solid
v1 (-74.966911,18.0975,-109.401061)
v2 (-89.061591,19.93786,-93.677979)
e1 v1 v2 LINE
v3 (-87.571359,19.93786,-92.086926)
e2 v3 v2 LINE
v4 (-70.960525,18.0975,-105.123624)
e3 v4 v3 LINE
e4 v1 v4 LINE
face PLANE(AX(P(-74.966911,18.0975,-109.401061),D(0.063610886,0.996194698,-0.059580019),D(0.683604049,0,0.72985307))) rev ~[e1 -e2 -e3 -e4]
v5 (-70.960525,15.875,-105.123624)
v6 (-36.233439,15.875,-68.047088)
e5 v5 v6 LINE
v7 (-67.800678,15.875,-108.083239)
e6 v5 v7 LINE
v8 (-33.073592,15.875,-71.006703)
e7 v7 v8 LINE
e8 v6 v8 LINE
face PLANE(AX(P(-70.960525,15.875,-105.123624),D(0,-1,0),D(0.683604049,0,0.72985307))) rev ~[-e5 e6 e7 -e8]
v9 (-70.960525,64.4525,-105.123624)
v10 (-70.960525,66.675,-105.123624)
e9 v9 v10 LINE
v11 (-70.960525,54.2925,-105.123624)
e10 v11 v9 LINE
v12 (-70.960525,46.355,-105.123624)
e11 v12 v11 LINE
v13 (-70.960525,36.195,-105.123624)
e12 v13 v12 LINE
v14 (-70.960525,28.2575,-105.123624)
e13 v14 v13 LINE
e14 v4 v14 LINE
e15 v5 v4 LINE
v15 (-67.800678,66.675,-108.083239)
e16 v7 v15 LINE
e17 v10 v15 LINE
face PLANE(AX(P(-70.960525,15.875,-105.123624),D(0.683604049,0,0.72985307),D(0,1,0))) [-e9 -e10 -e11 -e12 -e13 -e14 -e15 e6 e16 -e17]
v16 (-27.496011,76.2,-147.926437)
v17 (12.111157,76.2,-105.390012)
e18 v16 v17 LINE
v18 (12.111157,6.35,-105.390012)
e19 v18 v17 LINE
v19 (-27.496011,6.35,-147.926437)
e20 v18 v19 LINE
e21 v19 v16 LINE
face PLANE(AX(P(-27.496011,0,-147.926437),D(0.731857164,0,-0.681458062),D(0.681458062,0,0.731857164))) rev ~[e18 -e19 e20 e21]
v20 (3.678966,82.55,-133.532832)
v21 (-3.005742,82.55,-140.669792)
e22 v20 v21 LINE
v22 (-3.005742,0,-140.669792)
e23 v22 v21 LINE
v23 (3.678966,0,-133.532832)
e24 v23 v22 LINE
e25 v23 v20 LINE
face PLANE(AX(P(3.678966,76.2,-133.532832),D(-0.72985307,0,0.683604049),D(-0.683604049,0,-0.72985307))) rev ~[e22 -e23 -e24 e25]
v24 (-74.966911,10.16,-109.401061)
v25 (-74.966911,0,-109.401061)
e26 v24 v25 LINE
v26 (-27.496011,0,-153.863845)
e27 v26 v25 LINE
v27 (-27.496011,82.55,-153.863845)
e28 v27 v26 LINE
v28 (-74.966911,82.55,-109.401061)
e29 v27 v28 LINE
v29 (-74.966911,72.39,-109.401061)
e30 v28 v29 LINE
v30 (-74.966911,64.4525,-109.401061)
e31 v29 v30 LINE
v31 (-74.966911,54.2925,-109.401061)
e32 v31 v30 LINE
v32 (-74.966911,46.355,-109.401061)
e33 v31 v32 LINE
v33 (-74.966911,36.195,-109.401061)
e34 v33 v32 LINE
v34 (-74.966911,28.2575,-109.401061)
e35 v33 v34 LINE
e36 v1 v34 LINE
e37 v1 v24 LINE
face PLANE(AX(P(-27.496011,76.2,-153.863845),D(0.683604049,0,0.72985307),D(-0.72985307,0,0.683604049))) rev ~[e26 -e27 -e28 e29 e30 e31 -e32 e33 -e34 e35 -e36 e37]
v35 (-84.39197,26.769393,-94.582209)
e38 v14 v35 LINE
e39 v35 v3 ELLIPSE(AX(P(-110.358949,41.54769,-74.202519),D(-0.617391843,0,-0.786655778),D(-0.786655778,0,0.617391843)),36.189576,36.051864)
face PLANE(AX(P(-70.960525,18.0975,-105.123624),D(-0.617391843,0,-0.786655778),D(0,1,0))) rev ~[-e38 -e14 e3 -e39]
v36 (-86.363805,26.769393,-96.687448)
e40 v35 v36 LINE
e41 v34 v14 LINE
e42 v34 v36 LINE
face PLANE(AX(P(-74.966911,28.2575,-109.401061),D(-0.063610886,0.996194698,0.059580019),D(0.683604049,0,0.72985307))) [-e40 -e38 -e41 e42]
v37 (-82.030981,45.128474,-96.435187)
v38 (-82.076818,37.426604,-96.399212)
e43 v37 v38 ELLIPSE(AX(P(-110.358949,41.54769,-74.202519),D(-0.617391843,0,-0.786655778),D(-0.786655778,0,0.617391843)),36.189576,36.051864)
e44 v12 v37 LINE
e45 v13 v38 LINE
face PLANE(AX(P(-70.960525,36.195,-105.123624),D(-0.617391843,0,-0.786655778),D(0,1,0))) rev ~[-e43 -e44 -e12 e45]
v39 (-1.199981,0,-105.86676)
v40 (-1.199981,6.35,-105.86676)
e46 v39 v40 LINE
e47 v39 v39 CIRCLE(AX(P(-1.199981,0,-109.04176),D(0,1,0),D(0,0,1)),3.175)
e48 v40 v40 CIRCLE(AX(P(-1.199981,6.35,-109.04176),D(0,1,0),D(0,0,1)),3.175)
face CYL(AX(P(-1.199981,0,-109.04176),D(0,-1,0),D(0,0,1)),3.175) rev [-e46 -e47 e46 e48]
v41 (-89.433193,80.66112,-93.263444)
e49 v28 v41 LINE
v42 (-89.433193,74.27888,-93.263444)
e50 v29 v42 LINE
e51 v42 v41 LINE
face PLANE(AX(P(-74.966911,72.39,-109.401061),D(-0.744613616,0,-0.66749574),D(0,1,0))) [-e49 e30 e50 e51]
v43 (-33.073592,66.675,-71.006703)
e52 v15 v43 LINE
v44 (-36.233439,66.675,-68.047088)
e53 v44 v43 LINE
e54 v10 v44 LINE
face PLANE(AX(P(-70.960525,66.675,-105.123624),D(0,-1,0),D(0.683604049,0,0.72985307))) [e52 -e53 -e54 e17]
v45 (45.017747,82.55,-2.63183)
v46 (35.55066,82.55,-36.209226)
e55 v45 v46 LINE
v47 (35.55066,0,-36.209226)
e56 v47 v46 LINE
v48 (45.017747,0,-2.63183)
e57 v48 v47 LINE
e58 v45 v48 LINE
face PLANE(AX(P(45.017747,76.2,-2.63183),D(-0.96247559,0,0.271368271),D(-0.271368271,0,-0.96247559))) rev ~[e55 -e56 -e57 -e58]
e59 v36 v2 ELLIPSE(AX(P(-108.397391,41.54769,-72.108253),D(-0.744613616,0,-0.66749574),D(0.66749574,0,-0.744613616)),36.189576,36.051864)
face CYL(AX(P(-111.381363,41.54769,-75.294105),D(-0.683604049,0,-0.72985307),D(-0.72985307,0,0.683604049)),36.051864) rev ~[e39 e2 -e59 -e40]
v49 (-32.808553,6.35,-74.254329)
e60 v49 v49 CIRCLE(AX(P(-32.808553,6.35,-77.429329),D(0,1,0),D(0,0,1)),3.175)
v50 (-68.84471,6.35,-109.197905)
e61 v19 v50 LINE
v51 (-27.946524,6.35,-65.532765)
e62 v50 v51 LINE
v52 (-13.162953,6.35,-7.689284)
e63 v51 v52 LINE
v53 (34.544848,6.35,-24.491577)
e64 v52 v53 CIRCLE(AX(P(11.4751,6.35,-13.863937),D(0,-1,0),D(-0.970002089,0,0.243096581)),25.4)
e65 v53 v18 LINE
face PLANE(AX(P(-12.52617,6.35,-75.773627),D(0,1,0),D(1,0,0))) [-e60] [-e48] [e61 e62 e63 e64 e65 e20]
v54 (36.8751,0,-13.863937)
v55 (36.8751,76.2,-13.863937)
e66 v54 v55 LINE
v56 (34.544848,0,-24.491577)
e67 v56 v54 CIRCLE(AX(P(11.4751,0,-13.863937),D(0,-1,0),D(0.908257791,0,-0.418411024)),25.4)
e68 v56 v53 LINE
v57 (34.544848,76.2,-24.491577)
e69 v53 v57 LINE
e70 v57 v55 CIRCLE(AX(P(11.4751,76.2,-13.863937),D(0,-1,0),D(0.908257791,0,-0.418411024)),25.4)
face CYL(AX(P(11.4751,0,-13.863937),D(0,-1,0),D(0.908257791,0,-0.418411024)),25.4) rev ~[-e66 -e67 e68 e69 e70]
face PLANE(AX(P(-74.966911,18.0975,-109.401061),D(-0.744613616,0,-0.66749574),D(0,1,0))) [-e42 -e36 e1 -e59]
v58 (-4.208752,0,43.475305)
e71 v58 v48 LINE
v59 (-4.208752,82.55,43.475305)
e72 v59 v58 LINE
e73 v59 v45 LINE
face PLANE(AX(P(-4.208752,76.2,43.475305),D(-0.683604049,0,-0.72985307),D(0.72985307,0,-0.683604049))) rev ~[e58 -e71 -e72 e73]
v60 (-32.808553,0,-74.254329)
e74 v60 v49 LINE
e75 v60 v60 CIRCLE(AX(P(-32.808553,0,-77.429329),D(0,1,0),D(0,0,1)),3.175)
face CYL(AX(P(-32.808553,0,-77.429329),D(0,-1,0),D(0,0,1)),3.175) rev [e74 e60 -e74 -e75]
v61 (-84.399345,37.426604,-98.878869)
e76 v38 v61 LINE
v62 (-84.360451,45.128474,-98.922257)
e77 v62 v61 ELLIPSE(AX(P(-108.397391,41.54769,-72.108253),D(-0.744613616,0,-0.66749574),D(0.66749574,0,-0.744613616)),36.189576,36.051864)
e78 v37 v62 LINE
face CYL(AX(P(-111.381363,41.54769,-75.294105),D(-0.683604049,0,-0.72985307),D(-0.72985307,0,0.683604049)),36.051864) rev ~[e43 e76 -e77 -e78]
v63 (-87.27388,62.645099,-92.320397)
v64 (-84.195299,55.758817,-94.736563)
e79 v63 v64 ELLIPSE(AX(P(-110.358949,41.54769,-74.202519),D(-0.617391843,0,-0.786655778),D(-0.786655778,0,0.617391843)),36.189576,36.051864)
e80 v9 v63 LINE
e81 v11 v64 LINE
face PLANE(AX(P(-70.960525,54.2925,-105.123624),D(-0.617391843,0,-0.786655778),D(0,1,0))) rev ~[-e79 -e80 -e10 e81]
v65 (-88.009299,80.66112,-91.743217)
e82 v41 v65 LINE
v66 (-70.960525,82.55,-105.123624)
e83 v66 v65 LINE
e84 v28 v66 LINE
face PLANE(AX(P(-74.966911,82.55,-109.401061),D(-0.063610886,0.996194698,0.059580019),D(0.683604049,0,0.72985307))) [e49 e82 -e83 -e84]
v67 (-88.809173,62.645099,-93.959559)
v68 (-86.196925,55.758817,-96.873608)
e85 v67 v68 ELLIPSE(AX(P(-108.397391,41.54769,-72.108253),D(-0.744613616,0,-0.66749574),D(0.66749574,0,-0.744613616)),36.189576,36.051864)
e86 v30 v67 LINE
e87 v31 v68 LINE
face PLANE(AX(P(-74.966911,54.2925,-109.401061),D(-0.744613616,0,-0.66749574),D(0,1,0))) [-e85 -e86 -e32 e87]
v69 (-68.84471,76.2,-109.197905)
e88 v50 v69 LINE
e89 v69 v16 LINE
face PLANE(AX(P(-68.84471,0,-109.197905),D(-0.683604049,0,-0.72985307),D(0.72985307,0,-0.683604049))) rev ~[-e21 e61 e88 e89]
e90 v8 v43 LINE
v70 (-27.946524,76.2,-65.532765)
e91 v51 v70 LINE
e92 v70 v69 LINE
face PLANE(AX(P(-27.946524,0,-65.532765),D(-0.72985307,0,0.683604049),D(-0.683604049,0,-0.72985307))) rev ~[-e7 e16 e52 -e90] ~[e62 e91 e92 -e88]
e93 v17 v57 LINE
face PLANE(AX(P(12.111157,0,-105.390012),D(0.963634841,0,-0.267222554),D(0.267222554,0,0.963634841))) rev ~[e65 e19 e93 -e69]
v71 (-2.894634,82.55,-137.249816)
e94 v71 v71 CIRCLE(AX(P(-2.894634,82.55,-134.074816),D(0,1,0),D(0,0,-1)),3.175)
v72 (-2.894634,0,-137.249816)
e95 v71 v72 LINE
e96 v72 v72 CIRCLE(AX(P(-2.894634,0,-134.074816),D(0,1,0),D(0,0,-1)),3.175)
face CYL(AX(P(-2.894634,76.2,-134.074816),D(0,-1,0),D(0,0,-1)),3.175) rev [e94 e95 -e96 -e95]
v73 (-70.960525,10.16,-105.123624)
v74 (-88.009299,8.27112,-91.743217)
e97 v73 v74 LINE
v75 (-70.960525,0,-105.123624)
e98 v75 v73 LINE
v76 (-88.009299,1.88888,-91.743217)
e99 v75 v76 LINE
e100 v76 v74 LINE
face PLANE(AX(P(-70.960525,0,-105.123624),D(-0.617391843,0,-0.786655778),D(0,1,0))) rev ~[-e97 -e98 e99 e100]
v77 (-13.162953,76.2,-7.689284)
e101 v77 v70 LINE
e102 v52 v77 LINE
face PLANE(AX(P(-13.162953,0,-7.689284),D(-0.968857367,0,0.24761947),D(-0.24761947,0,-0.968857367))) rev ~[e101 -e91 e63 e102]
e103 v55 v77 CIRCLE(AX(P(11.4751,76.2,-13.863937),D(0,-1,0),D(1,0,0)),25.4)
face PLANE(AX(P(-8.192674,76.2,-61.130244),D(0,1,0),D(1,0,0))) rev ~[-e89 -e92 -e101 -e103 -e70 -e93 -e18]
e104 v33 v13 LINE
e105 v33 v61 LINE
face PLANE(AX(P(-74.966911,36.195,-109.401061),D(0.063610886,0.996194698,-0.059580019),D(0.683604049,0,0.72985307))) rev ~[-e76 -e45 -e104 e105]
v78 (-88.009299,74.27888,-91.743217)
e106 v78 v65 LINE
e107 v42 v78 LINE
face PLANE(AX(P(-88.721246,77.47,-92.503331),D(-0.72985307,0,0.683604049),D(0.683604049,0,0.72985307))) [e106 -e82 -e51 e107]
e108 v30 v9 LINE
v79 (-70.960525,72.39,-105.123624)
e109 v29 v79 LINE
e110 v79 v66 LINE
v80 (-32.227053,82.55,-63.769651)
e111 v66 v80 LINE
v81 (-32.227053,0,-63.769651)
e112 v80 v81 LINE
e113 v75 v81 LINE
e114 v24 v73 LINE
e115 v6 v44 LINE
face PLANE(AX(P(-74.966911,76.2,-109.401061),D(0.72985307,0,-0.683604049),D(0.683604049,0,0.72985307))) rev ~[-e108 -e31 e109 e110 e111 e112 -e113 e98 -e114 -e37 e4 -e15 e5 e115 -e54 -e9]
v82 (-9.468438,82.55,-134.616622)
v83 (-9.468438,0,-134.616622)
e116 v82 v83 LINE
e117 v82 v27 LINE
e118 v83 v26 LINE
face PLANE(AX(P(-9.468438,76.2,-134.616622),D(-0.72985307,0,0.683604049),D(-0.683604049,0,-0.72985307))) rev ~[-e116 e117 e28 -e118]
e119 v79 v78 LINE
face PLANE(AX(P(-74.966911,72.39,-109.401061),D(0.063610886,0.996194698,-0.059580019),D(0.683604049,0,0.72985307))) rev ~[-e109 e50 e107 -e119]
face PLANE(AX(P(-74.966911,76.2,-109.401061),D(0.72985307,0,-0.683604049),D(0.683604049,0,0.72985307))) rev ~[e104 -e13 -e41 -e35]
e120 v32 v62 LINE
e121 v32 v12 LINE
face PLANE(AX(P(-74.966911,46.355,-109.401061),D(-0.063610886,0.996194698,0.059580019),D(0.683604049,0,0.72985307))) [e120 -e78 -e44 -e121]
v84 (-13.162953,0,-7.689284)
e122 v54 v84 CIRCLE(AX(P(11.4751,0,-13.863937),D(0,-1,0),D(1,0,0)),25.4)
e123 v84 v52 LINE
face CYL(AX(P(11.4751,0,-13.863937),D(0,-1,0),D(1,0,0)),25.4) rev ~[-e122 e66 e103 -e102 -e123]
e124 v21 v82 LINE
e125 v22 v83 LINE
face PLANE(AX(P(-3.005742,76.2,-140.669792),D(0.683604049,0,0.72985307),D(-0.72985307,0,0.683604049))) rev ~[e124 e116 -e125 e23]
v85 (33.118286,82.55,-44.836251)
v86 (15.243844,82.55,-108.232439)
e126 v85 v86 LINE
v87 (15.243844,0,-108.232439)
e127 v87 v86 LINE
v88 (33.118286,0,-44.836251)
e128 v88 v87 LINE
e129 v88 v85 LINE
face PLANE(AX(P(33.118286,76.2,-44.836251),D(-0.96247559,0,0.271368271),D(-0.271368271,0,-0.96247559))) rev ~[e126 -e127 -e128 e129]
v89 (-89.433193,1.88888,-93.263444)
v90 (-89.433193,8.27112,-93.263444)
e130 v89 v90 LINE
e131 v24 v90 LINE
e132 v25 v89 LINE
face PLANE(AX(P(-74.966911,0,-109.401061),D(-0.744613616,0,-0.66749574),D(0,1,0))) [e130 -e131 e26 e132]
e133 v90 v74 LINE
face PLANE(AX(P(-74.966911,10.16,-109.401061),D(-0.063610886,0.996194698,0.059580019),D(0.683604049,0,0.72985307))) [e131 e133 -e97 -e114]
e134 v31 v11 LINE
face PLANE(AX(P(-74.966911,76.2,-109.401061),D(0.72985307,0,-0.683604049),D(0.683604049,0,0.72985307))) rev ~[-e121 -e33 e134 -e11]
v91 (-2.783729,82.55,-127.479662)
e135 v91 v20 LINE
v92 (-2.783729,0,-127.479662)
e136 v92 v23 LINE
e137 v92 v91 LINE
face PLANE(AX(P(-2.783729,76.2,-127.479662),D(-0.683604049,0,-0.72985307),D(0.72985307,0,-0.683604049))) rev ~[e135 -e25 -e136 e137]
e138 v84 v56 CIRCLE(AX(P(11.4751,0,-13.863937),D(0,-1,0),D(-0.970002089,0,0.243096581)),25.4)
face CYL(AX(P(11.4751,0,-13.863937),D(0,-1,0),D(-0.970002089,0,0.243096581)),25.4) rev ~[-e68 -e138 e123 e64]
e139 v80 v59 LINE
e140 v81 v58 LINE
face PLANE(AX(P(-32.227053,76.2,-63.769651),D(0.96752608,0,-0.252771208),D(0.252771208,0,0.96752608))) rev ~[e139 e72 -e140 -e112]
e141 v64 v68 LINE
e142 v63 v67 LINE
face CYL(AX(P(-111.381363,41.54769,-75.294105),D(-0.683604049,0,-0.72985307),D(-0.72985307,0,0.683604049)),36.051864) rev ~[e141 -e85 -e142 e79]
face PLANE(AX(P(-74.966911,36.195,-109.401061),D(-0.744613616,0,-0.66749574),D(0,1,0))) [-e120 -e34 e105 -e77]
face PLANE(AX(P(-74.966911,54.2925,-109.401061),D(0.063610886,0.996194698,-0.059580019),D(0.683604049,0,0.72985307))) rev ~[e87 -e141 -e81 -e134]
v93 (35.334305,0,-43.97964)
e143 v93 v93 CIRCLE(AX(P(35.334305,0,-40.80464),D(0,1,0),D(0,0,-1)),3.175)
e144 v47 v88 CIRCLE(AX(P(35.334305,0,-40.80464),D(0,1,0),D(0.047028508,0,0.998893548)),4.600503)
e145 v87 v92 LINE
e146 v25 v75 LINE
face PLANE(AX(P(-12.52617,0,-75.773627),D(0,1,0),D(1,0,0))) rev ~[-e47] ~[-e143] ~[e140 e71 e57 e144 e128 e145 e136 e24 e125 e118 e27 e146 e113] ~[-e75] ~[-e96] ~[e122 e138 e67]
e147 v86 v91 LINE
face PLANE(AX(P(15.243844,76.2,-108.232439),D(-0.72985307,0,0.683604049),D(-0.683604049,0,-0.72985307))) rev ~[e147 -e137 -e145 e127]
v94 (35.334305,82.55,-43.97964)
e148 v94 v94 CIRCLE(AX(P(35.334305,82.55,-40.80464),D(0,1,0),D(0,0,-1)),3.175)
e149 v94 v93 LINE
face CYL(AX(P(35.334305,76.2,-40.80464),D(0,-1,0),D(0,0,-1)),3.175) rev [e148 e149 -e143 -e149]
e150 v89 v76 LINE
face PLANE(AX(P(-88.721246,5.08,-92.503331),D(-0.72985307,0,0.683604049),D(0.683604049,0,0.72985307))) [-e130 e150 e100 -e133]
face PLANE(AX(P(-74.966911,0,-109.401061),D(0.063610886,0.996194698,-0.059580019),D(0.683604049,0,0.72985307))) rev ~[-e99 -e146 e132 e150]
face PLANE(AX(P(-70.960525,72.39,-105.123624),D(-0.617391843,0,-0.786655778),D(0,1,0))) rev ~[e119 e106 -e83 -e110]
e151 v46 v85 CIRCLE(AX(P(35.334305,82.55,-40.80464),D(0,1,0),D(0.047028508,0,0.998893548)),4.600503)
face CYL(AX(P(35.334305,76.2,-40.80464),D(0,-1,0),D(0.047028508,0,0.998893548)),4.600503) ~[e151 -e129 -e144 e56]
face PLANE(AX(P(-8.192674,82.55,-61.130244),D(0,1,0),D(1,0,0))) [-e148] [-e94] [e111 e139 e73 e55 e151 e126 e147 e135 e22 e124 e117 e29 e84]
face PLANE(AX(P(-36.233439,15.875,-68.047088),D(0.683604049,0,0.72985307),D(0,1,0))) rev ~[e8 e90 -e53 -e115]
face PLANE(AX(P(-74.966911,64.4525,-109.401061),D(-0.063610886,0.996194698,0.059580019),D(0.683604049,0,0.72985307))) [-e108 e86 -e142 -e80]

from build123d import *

# Parameters (mm, degrees)
SKETCH1_R                     = 3.175
BOSS_EXTRUDE2_DEPTH           = 76.2
SKETCH1_5_R                   = 3.175
BOSS_EXTRUDE3_DEPTH           = 6.35
SKETCH5_R                     = 3.175
BOSS_EXTRUDE4_DEPTH           = 6.35
SKETCH6_W                     = 50.8
SKETCH6_H                     = 50.8
CUT_EXTRUDE1_DEPTH            = 21.59
SKETCH7_W                     = 5.86068256
SKETCH7_H                     = 10.16
BOSS_EXTRUDE5_DEPTH           = 21.59
BOSS_EXTRUDE5_DRAFT           = 5
BOSS_EXTRUDE5_PROFILE_2_DEPTH = 21.59
BOSS_EXTRUDE5_PROFILE_2_DRAFT = 5
BOSS_EXTRUDE5_PROFILE_3_DEPTH = 21.59
BOSS_EXTRUDE5_PROFILE_3_DRAFT = 5
BOSS_EXTRUDE5_PROFILE_4_DEPTH = 21.59
BOSS_EXTRUDE5_PROFILE_4_DRAFT = 5
BOSS_EXTRUDE5_PROFILE_5_DEPTH = 21.59
BOSS_EXTRUDE5_PROFILE_5_DRAFT = 5
SKETCH10_R                    = 36.051864109
CUT_EXTRUDE2_DEPTH            = 21.59


with BuildPart() as part:
    # Sketch1 → Boss-Extrude2 (new body)
    with BuildSketch(Plane(origin=(0, 0, 0), x_dir=(1, 0, 0), z_dir=(0, 1, 0))):
        with BuildLine():
            Line((-4.208751998, -43.475305064), (45.017746951, 2.631829887))
            Line((45.017746951, 2.631829887), (35.550660053, 36.209226482))
            ThreePointArc((35.550660053, 36.209226482), (39.762177432, 42.05307025), (33.11828595, 44.83625091))
            Line((33.11828595, 44.83625091), (15.243844224, 108.232438689))
            Line((15.243844224, 108.232438689), (-2.783728935, 127.479661752))
            Line((-2.783728935, 127.479661752), (3.678966496, 133.532831827))
            Line((3.678966496, 133.532831827), (-3.005742225, 140.669792455))
            Line((-3.005742225, 140.669792455), (-9.468437655, 134.61662238))
            Line((-9.468437655, 134.61662238), (-27.496010814, 153.863845442))
            Line((-27.496010814, 153.863845442), (-74.966911398, 109.401060841))
            Line((-74.966911398, 109.401060841), (-32.227053049, 63.769650553))
            Line((-32.227053049, 63.769650553), (-4.208751998, -43.475305064))
        make_face()
        with Locations((35.334305242, 40.804639607)):
            Circle(SKETCH1_R, mode=Mode.SUBTRACT)
        with BuildLine():
            Line((-27.946524097, 65.532765046), (-68.844709626, 109.197904706))
            Line((-68.844709626, 109.197904706), (-27.496010814, 147.926436632))
            Line((-27.496010814, 147.926436632), (12.111157264, 105.390011693))
            Line((12.111157264, 105.390011693), (34.544848217, 24.491577435))
            ThreePointArc((34.544848217, 24.491577435), (36.285698832, 19.303992732), (36.875100326, 13.863937421))
            ThreePointArc((36.875100326, 13.863937421), (14.585843996, -11.34485616), (-13.162952731, 7.689284266))
            Line((-13.162952731, 7.689284266), (-27.946524097, 65.532765046))
        make_face(mode=Mode.SUBTRACT)
        with Locations((-2.894634056, 134.074815557)):
            Circle(SKETCH1_R, mode=Mode.SUBTRACT)
    extrude(amount=BOSS_EXTRUDE2_DEPTH)

    # Sketch1<5> → Boss-Extrude3 (add)
    with BuildSketch(Plane(origin=(0, 0, 0), x_dir=(1, 0, 0), z_dir=(0, 1, 0))):
        with BuildLine():
            Line((-27.496010814, 147.926436632), (-68.844709626, 109.197904706))
            Line((-68.844709626, 109.197904706), (-27.946524097, 65.532765046))
            Line((-27.946524097, 65.532765046), (-13.162952731, 7.689284266))
            ThreePointArc((-13.162952731, 7.689284266), (3.03743719, 37.821521623), (34.544848217, 24.491577435))
            Line((34.544848217, 24.491577435), (12.111157264, 105.390011693))
            Line((12.111157264, 105.390011693), (-27.496010814, 147.926436632))
        make_face()
        with Locations((-32.808552916, 77.429328599)):
            Circle(SKETCH1_5_R, mode=Mode.SUBTRACT)
        with Locations((-1.199981142, 109.041759799)):
            Circle(SKETCH1_5_R, mode=Mode.SUBTRACT)
    extrude(amount=BOSS_EXTRUDE3_DEPTH)

    # Sketch5 → Boss-Extrude4 (add)
    with BuildSketch(Plane(origin=(0, 76.2, 0), x_dir=(1, 0, 0), z_dir=(0, 1, 0))):
        with BuildLine():
            Line((45.017746951, 2.631829887), (35.550660053, 36.209226482))
            ThreePointArc((35.550660053, 36.209226482), (39.762177432, 42.05307025), (33.11828595, 44.83625091))
            Line((33.11828595, 44.83625091), (15.243844224, 108.232438689))
            Line((15.243844224, 108.232438689), (-2.783728935, 127.479661752))
            Line((-2.783728935, 127.479661752), (3.678966496, 133.532831827))
            Line((3.678966496, 133.532831827), (-3.005742225, 140.669792455))
            Line((-3.005742225, 140.669792455), (-9.468437655, 134.61662238))
            Line((-9.468437655, 134.61662238), (-27.496010814, 153.863845442))
            Line((-27.496010814, 153.863845442), (-74.966911398, 109.401060841))
            Line((-74.966911398, 109.401060841), (-32.227053049, 63.769650553))
            Line((-32.227053049, 63.769650553), (-4.208751998, -43.475305064))
            Line((-4.208751998, -43.475305064), (45.017746951, 2.631829887))
        make_face()
        with Locations((-2.894634056, 134.074815557)):
            Circle(SKETCH5_R, mode=Mode.SUBTRACT)
        with Locations((35.334305242, 40.804639607)):
            Circle(SKETCH5_R, mode=Mode.SUBTRACT)
    extrude(amount=BOSS_EXTRUDE4_DEPTH)

    # Sketch6 → Cut-Extrude1 (cut)
    with BuildSketch(Plane(origin=(14.64974053, 0, -13.721421958), x_dir=(0.683604049055853, 0, 0.729853070223345), z_dir=(-0.729853070223345, 0, 0.683604049055853))):
        with Locations((-99.833701757, 41.275)):
            Rectangle(SKETCH6_W, SKETCH6_H)
    extrude(amount=-CUT_EXTRUDE1_DEPTH, mode=Mode.SUBTRACT)


with BuildPart() as boss_extrude5_tool:
    # Sketch7 → Boss-Extrude5 (with draft: the straight prism first)
    with BuildSketch(Plane(origin=(14.64974053, 0, -13.721421958), x_dir=(0.683604049055853, 0, 0.729853070223345), z_dir=(-0.729853070223345, 0, 0.683604049055853))):
        with Locations((-128.164043037, 77.47)):
            Rectangle(SKETCH7_W, SKETCH7_H)
    extrude(amount=BOSS_EXTRUDE5_DEPTH)
    # Boss-Extrude5: the draft: its side faces are tilted about the plane it starts from
    boss_extrude5_sides = [boss_extrude5_tool.faces().sort_by_distance(p)[0] for p in [
        (-82.845675291, 77.47, -102.021555132),
        (-80.842482126, 72.39, -99.882836552),
        (-78.839288962, 77.47, -97.744117972),
        (-80.842482126, 82.55, -99.882836552),
    ]]
    draft(boss_extrude5_sides, Plane(origin=(14.64974053, 0, -13.721421958), x_dir=(0.683604049055853, 0, 0.729853070223345), z_dir=(-0.729853070223345, 0, 0.683604049055853)), BOSS_EXTRUDE5_DRAFT)


with BuildPart() as part_1:
    add(part.part)

    # Boss-Extrude5: add boss_extrude5_tool
    add(boss_extrude5_tool.part)


with BuildPart() as boss_extrude5_profile_2_tool:
    # Sketch7 → Boss-Extrude5 profile 2 (with draft: the straight prism first)
    with BuildSketch(Plane(origin=(14.64974053, 0, -13.721421958), x_dir=(0.683604049055853, 0, 0.729853070223345), z_dir=(-0.729853070223345, 0, 0.683604049055853))):
        with Locations((-128.164043037, 59.3725)):
            Rectangle(SKETCH7_W, SKETCH7_H)
    extrude(amount=BOSS_EXTRUDE5_PROFILE_2_DEPTH)
    # Boss-Extrude5 profile 2: the draft: its side faces are tilted about the plane it starts from
    boss_extrude5_profile_2_sides = [boss_extrude5_profile_2_tool.faces().sort_by_distance(p)[0] for p in [
        (-80.842482126, 54.2925, -99.882836552),
        (-78.839288962, 59.3725, -97.744117972),
        (-80.842482126, 64.4525, -99.882836552),
        (-82.845675291, 59.3725, -102.021555132),
    ]]
    draft(boss_extrude5_profile_2_sides, Plane(origin=(14.64974053, 0, -13.721421958), x_dir=(0.683604049055853, 0, 0.729853070223345), z_dir=(-0.729853070223345, 0, 0.683604049055853)), BOSS_EXTRUDE5_PROFILE_2_DRAFT)


with BuildPart() as part_2:
    add(part_1.part)

    # Boss-Extrude5 profile 2: add boss_extrude5_profile_2_tool
    add(boss_extrude5_profile_2_tool.part)


with BuildPart() as boss_extrude5_profile_3_tool:
    # Sketch7 → Boss-Extrude5 profile 3 (with draft: the straight prism first)
    with BuildSketch(Plane(origin=(14.64974053, 0, -13.721421958), x_dir=(0.683604049055853, 0, 0.729853070223345), z_dir=(-0.729853070223345, 0, 0.683604049055853))):
        with Locations((-128.164043037, 41.275)):
            Rectangle(SKETCH7_W, SKETCH7_H)
    extrude(amount=BOSS_EXTRUDE5_PROFILE_3_DEPTH)
    # Boss-Extrude5 profile 3: the draft: its side faces are tilted about the plane it starts from
    boss_extrude5_profile_3_sides = [boss_extrude5_profile_3_tool.faces().sort_by_distance(p)[0] for p in [
        (-80.842482126, 36.195, -99.882836552),
        (-78.839288962, 41.275, -97.744117972),
        (-80.842482126, 46.355, -99.882836552),
        (-82.845675291, 41.275, -102.021555132),
    ]]
    draft(boss_extrude5_profile_3_sides, Plane(origin=(14.64974053, 0, -13.721421958), x_dir=(0.683604049055853, 0, 0.729853070223345), z_dir=(-0.729853070223345, 0, 0.683604049055853)), BOSS_EXTRUDE5_PROFILE_3_DRAFT)


with BuildPart() as part_3:
    add(part_2.part)

    # Boss-Extrude5 profile 3: add boss_extrude5_profile_3_tool
    add(boss_extrude5_profile_3_tool.part)


with BuildPart() as boss_extrude5_profile_4_tool:
    # Sketch7 → Boss-Extrude5 profile 4 (with draft: the straight prism first)
    with BuildSketch(Plane(origin=(14.64974053, 0, -13.721421958), x_dir=(0.683604049055853, 0, 0.729853070223345), z_dir=(-0.729853070223345, 0, 0.683604049055853))):
        with Locations((-128.164043037, 23.1775)):
            Rectangle(SKETCH7_W, SKETCH7_H)
    extrude(amount=BOSS_EXTRUDE5_PROFILE_4_DEPTH)
    # Boss-Extrude5 profile 4: the draft: its side faces are tilted about the plane it starts from
    boss_extrude5_profile_4_sides = [boss_extrude5_profile_4_tool.faces().sort_by_distance(p)[0] for p in [
        (-80.842482126, 18.0975, -99.882836552),
        (-78.839288962, 23.1775, -97.744117972),
        (-80.842482126, 28.2575, -99.882836552),
        (-82.845675291, 23.1775, -102.021555132),
    ]]
    draft(boss_extrude5_profile_4_sides, Plane(origin=(14.64974053, 0, -13.721421958), x_dir=(0.683604049055853, 0, 0.729853070223345), z_dir=(-0.729853070223345, 0, 0.683604049055853)), BOSS_EXTRUDE5_PROFILE_4_DRAFT)


with BuildPart() as part_4:
    add(part_3.part)

    # Boss-Extrude5 profile 4: add boss_extrude5_profile_4_tool
    add(boss_extrude5_profile_4_tool.part)


with BuildPart() as boss_extrude5_profile_5_tool:
    # Sketch7 → Boss-Extrude5 profile 5 (with draft: the straight prism first)
    with BuildSketch(Plane(origin=(14.64974053, 0, -13.721421958), x_dir=(0.683604049055853, 0, 0.729853070223345), z_dir=(-0.729853070223345, 0, 0.683604049055853))):
        with Locations((-128.164043037, 5.08)):
            Rectangle(SKETCH7_W, SKETCH7_H)
    extrude(amount=BOSS_EXTRUDE5_PROFILE_5_DEPTH)
    # Boss-Extrude5 profile 5: the draft: its side faces are tilted about the plane it starts from
    boss_extrude5_profile_5_sides = [boss_extrude5_profile_5_tool.faces().sort_by_distance(p)[0] for p in [
        (-80.842482126, 0, -99.882836552),
        (-78.839288962, 5.08, -97.744117972),
        (-80.842482126, 10.16, -99.882836552),
        (-82.845675291, 5.08, -102.021555132),
    ]]
    draft(boss_extrude5_profile_5_sides, Plane(origin=(14.64974053, 0, -13.721421958), x_dir=(0.683604049055853, 0, 0.729853070223345), z_dir=(-0.729853070223345, 0, 0.683604049055853)), BOSS_EXTRUDE5_PROFILE_5_DRAFT)


with BuildPart() as part_5:
    add(part_4.part)

    # Boss-Extrude5 profile 5: add boss_extrude5_profile_5_tool
    add(boss_extrude5_profile_5_tool.part)

    # Sketch10 → Cut-Extrude2 (cut)
    with BuildSketch(Plane(origin=(-89.616651928, 0, -95.679638883), x_dir=(-0.7298530702233451, 0, 0.683604049055853), z_dir=(-0.683604049055853, 0, -0.7298530702233451))):
        with Locations((29.820674878, 41.547690044)):
            Circle(SKETCH10_R)
    extrude(amount=-CUT_EXTRUDE2_DEPTH, mode=Mode.SUBTRACT)


solid = part_5.part
